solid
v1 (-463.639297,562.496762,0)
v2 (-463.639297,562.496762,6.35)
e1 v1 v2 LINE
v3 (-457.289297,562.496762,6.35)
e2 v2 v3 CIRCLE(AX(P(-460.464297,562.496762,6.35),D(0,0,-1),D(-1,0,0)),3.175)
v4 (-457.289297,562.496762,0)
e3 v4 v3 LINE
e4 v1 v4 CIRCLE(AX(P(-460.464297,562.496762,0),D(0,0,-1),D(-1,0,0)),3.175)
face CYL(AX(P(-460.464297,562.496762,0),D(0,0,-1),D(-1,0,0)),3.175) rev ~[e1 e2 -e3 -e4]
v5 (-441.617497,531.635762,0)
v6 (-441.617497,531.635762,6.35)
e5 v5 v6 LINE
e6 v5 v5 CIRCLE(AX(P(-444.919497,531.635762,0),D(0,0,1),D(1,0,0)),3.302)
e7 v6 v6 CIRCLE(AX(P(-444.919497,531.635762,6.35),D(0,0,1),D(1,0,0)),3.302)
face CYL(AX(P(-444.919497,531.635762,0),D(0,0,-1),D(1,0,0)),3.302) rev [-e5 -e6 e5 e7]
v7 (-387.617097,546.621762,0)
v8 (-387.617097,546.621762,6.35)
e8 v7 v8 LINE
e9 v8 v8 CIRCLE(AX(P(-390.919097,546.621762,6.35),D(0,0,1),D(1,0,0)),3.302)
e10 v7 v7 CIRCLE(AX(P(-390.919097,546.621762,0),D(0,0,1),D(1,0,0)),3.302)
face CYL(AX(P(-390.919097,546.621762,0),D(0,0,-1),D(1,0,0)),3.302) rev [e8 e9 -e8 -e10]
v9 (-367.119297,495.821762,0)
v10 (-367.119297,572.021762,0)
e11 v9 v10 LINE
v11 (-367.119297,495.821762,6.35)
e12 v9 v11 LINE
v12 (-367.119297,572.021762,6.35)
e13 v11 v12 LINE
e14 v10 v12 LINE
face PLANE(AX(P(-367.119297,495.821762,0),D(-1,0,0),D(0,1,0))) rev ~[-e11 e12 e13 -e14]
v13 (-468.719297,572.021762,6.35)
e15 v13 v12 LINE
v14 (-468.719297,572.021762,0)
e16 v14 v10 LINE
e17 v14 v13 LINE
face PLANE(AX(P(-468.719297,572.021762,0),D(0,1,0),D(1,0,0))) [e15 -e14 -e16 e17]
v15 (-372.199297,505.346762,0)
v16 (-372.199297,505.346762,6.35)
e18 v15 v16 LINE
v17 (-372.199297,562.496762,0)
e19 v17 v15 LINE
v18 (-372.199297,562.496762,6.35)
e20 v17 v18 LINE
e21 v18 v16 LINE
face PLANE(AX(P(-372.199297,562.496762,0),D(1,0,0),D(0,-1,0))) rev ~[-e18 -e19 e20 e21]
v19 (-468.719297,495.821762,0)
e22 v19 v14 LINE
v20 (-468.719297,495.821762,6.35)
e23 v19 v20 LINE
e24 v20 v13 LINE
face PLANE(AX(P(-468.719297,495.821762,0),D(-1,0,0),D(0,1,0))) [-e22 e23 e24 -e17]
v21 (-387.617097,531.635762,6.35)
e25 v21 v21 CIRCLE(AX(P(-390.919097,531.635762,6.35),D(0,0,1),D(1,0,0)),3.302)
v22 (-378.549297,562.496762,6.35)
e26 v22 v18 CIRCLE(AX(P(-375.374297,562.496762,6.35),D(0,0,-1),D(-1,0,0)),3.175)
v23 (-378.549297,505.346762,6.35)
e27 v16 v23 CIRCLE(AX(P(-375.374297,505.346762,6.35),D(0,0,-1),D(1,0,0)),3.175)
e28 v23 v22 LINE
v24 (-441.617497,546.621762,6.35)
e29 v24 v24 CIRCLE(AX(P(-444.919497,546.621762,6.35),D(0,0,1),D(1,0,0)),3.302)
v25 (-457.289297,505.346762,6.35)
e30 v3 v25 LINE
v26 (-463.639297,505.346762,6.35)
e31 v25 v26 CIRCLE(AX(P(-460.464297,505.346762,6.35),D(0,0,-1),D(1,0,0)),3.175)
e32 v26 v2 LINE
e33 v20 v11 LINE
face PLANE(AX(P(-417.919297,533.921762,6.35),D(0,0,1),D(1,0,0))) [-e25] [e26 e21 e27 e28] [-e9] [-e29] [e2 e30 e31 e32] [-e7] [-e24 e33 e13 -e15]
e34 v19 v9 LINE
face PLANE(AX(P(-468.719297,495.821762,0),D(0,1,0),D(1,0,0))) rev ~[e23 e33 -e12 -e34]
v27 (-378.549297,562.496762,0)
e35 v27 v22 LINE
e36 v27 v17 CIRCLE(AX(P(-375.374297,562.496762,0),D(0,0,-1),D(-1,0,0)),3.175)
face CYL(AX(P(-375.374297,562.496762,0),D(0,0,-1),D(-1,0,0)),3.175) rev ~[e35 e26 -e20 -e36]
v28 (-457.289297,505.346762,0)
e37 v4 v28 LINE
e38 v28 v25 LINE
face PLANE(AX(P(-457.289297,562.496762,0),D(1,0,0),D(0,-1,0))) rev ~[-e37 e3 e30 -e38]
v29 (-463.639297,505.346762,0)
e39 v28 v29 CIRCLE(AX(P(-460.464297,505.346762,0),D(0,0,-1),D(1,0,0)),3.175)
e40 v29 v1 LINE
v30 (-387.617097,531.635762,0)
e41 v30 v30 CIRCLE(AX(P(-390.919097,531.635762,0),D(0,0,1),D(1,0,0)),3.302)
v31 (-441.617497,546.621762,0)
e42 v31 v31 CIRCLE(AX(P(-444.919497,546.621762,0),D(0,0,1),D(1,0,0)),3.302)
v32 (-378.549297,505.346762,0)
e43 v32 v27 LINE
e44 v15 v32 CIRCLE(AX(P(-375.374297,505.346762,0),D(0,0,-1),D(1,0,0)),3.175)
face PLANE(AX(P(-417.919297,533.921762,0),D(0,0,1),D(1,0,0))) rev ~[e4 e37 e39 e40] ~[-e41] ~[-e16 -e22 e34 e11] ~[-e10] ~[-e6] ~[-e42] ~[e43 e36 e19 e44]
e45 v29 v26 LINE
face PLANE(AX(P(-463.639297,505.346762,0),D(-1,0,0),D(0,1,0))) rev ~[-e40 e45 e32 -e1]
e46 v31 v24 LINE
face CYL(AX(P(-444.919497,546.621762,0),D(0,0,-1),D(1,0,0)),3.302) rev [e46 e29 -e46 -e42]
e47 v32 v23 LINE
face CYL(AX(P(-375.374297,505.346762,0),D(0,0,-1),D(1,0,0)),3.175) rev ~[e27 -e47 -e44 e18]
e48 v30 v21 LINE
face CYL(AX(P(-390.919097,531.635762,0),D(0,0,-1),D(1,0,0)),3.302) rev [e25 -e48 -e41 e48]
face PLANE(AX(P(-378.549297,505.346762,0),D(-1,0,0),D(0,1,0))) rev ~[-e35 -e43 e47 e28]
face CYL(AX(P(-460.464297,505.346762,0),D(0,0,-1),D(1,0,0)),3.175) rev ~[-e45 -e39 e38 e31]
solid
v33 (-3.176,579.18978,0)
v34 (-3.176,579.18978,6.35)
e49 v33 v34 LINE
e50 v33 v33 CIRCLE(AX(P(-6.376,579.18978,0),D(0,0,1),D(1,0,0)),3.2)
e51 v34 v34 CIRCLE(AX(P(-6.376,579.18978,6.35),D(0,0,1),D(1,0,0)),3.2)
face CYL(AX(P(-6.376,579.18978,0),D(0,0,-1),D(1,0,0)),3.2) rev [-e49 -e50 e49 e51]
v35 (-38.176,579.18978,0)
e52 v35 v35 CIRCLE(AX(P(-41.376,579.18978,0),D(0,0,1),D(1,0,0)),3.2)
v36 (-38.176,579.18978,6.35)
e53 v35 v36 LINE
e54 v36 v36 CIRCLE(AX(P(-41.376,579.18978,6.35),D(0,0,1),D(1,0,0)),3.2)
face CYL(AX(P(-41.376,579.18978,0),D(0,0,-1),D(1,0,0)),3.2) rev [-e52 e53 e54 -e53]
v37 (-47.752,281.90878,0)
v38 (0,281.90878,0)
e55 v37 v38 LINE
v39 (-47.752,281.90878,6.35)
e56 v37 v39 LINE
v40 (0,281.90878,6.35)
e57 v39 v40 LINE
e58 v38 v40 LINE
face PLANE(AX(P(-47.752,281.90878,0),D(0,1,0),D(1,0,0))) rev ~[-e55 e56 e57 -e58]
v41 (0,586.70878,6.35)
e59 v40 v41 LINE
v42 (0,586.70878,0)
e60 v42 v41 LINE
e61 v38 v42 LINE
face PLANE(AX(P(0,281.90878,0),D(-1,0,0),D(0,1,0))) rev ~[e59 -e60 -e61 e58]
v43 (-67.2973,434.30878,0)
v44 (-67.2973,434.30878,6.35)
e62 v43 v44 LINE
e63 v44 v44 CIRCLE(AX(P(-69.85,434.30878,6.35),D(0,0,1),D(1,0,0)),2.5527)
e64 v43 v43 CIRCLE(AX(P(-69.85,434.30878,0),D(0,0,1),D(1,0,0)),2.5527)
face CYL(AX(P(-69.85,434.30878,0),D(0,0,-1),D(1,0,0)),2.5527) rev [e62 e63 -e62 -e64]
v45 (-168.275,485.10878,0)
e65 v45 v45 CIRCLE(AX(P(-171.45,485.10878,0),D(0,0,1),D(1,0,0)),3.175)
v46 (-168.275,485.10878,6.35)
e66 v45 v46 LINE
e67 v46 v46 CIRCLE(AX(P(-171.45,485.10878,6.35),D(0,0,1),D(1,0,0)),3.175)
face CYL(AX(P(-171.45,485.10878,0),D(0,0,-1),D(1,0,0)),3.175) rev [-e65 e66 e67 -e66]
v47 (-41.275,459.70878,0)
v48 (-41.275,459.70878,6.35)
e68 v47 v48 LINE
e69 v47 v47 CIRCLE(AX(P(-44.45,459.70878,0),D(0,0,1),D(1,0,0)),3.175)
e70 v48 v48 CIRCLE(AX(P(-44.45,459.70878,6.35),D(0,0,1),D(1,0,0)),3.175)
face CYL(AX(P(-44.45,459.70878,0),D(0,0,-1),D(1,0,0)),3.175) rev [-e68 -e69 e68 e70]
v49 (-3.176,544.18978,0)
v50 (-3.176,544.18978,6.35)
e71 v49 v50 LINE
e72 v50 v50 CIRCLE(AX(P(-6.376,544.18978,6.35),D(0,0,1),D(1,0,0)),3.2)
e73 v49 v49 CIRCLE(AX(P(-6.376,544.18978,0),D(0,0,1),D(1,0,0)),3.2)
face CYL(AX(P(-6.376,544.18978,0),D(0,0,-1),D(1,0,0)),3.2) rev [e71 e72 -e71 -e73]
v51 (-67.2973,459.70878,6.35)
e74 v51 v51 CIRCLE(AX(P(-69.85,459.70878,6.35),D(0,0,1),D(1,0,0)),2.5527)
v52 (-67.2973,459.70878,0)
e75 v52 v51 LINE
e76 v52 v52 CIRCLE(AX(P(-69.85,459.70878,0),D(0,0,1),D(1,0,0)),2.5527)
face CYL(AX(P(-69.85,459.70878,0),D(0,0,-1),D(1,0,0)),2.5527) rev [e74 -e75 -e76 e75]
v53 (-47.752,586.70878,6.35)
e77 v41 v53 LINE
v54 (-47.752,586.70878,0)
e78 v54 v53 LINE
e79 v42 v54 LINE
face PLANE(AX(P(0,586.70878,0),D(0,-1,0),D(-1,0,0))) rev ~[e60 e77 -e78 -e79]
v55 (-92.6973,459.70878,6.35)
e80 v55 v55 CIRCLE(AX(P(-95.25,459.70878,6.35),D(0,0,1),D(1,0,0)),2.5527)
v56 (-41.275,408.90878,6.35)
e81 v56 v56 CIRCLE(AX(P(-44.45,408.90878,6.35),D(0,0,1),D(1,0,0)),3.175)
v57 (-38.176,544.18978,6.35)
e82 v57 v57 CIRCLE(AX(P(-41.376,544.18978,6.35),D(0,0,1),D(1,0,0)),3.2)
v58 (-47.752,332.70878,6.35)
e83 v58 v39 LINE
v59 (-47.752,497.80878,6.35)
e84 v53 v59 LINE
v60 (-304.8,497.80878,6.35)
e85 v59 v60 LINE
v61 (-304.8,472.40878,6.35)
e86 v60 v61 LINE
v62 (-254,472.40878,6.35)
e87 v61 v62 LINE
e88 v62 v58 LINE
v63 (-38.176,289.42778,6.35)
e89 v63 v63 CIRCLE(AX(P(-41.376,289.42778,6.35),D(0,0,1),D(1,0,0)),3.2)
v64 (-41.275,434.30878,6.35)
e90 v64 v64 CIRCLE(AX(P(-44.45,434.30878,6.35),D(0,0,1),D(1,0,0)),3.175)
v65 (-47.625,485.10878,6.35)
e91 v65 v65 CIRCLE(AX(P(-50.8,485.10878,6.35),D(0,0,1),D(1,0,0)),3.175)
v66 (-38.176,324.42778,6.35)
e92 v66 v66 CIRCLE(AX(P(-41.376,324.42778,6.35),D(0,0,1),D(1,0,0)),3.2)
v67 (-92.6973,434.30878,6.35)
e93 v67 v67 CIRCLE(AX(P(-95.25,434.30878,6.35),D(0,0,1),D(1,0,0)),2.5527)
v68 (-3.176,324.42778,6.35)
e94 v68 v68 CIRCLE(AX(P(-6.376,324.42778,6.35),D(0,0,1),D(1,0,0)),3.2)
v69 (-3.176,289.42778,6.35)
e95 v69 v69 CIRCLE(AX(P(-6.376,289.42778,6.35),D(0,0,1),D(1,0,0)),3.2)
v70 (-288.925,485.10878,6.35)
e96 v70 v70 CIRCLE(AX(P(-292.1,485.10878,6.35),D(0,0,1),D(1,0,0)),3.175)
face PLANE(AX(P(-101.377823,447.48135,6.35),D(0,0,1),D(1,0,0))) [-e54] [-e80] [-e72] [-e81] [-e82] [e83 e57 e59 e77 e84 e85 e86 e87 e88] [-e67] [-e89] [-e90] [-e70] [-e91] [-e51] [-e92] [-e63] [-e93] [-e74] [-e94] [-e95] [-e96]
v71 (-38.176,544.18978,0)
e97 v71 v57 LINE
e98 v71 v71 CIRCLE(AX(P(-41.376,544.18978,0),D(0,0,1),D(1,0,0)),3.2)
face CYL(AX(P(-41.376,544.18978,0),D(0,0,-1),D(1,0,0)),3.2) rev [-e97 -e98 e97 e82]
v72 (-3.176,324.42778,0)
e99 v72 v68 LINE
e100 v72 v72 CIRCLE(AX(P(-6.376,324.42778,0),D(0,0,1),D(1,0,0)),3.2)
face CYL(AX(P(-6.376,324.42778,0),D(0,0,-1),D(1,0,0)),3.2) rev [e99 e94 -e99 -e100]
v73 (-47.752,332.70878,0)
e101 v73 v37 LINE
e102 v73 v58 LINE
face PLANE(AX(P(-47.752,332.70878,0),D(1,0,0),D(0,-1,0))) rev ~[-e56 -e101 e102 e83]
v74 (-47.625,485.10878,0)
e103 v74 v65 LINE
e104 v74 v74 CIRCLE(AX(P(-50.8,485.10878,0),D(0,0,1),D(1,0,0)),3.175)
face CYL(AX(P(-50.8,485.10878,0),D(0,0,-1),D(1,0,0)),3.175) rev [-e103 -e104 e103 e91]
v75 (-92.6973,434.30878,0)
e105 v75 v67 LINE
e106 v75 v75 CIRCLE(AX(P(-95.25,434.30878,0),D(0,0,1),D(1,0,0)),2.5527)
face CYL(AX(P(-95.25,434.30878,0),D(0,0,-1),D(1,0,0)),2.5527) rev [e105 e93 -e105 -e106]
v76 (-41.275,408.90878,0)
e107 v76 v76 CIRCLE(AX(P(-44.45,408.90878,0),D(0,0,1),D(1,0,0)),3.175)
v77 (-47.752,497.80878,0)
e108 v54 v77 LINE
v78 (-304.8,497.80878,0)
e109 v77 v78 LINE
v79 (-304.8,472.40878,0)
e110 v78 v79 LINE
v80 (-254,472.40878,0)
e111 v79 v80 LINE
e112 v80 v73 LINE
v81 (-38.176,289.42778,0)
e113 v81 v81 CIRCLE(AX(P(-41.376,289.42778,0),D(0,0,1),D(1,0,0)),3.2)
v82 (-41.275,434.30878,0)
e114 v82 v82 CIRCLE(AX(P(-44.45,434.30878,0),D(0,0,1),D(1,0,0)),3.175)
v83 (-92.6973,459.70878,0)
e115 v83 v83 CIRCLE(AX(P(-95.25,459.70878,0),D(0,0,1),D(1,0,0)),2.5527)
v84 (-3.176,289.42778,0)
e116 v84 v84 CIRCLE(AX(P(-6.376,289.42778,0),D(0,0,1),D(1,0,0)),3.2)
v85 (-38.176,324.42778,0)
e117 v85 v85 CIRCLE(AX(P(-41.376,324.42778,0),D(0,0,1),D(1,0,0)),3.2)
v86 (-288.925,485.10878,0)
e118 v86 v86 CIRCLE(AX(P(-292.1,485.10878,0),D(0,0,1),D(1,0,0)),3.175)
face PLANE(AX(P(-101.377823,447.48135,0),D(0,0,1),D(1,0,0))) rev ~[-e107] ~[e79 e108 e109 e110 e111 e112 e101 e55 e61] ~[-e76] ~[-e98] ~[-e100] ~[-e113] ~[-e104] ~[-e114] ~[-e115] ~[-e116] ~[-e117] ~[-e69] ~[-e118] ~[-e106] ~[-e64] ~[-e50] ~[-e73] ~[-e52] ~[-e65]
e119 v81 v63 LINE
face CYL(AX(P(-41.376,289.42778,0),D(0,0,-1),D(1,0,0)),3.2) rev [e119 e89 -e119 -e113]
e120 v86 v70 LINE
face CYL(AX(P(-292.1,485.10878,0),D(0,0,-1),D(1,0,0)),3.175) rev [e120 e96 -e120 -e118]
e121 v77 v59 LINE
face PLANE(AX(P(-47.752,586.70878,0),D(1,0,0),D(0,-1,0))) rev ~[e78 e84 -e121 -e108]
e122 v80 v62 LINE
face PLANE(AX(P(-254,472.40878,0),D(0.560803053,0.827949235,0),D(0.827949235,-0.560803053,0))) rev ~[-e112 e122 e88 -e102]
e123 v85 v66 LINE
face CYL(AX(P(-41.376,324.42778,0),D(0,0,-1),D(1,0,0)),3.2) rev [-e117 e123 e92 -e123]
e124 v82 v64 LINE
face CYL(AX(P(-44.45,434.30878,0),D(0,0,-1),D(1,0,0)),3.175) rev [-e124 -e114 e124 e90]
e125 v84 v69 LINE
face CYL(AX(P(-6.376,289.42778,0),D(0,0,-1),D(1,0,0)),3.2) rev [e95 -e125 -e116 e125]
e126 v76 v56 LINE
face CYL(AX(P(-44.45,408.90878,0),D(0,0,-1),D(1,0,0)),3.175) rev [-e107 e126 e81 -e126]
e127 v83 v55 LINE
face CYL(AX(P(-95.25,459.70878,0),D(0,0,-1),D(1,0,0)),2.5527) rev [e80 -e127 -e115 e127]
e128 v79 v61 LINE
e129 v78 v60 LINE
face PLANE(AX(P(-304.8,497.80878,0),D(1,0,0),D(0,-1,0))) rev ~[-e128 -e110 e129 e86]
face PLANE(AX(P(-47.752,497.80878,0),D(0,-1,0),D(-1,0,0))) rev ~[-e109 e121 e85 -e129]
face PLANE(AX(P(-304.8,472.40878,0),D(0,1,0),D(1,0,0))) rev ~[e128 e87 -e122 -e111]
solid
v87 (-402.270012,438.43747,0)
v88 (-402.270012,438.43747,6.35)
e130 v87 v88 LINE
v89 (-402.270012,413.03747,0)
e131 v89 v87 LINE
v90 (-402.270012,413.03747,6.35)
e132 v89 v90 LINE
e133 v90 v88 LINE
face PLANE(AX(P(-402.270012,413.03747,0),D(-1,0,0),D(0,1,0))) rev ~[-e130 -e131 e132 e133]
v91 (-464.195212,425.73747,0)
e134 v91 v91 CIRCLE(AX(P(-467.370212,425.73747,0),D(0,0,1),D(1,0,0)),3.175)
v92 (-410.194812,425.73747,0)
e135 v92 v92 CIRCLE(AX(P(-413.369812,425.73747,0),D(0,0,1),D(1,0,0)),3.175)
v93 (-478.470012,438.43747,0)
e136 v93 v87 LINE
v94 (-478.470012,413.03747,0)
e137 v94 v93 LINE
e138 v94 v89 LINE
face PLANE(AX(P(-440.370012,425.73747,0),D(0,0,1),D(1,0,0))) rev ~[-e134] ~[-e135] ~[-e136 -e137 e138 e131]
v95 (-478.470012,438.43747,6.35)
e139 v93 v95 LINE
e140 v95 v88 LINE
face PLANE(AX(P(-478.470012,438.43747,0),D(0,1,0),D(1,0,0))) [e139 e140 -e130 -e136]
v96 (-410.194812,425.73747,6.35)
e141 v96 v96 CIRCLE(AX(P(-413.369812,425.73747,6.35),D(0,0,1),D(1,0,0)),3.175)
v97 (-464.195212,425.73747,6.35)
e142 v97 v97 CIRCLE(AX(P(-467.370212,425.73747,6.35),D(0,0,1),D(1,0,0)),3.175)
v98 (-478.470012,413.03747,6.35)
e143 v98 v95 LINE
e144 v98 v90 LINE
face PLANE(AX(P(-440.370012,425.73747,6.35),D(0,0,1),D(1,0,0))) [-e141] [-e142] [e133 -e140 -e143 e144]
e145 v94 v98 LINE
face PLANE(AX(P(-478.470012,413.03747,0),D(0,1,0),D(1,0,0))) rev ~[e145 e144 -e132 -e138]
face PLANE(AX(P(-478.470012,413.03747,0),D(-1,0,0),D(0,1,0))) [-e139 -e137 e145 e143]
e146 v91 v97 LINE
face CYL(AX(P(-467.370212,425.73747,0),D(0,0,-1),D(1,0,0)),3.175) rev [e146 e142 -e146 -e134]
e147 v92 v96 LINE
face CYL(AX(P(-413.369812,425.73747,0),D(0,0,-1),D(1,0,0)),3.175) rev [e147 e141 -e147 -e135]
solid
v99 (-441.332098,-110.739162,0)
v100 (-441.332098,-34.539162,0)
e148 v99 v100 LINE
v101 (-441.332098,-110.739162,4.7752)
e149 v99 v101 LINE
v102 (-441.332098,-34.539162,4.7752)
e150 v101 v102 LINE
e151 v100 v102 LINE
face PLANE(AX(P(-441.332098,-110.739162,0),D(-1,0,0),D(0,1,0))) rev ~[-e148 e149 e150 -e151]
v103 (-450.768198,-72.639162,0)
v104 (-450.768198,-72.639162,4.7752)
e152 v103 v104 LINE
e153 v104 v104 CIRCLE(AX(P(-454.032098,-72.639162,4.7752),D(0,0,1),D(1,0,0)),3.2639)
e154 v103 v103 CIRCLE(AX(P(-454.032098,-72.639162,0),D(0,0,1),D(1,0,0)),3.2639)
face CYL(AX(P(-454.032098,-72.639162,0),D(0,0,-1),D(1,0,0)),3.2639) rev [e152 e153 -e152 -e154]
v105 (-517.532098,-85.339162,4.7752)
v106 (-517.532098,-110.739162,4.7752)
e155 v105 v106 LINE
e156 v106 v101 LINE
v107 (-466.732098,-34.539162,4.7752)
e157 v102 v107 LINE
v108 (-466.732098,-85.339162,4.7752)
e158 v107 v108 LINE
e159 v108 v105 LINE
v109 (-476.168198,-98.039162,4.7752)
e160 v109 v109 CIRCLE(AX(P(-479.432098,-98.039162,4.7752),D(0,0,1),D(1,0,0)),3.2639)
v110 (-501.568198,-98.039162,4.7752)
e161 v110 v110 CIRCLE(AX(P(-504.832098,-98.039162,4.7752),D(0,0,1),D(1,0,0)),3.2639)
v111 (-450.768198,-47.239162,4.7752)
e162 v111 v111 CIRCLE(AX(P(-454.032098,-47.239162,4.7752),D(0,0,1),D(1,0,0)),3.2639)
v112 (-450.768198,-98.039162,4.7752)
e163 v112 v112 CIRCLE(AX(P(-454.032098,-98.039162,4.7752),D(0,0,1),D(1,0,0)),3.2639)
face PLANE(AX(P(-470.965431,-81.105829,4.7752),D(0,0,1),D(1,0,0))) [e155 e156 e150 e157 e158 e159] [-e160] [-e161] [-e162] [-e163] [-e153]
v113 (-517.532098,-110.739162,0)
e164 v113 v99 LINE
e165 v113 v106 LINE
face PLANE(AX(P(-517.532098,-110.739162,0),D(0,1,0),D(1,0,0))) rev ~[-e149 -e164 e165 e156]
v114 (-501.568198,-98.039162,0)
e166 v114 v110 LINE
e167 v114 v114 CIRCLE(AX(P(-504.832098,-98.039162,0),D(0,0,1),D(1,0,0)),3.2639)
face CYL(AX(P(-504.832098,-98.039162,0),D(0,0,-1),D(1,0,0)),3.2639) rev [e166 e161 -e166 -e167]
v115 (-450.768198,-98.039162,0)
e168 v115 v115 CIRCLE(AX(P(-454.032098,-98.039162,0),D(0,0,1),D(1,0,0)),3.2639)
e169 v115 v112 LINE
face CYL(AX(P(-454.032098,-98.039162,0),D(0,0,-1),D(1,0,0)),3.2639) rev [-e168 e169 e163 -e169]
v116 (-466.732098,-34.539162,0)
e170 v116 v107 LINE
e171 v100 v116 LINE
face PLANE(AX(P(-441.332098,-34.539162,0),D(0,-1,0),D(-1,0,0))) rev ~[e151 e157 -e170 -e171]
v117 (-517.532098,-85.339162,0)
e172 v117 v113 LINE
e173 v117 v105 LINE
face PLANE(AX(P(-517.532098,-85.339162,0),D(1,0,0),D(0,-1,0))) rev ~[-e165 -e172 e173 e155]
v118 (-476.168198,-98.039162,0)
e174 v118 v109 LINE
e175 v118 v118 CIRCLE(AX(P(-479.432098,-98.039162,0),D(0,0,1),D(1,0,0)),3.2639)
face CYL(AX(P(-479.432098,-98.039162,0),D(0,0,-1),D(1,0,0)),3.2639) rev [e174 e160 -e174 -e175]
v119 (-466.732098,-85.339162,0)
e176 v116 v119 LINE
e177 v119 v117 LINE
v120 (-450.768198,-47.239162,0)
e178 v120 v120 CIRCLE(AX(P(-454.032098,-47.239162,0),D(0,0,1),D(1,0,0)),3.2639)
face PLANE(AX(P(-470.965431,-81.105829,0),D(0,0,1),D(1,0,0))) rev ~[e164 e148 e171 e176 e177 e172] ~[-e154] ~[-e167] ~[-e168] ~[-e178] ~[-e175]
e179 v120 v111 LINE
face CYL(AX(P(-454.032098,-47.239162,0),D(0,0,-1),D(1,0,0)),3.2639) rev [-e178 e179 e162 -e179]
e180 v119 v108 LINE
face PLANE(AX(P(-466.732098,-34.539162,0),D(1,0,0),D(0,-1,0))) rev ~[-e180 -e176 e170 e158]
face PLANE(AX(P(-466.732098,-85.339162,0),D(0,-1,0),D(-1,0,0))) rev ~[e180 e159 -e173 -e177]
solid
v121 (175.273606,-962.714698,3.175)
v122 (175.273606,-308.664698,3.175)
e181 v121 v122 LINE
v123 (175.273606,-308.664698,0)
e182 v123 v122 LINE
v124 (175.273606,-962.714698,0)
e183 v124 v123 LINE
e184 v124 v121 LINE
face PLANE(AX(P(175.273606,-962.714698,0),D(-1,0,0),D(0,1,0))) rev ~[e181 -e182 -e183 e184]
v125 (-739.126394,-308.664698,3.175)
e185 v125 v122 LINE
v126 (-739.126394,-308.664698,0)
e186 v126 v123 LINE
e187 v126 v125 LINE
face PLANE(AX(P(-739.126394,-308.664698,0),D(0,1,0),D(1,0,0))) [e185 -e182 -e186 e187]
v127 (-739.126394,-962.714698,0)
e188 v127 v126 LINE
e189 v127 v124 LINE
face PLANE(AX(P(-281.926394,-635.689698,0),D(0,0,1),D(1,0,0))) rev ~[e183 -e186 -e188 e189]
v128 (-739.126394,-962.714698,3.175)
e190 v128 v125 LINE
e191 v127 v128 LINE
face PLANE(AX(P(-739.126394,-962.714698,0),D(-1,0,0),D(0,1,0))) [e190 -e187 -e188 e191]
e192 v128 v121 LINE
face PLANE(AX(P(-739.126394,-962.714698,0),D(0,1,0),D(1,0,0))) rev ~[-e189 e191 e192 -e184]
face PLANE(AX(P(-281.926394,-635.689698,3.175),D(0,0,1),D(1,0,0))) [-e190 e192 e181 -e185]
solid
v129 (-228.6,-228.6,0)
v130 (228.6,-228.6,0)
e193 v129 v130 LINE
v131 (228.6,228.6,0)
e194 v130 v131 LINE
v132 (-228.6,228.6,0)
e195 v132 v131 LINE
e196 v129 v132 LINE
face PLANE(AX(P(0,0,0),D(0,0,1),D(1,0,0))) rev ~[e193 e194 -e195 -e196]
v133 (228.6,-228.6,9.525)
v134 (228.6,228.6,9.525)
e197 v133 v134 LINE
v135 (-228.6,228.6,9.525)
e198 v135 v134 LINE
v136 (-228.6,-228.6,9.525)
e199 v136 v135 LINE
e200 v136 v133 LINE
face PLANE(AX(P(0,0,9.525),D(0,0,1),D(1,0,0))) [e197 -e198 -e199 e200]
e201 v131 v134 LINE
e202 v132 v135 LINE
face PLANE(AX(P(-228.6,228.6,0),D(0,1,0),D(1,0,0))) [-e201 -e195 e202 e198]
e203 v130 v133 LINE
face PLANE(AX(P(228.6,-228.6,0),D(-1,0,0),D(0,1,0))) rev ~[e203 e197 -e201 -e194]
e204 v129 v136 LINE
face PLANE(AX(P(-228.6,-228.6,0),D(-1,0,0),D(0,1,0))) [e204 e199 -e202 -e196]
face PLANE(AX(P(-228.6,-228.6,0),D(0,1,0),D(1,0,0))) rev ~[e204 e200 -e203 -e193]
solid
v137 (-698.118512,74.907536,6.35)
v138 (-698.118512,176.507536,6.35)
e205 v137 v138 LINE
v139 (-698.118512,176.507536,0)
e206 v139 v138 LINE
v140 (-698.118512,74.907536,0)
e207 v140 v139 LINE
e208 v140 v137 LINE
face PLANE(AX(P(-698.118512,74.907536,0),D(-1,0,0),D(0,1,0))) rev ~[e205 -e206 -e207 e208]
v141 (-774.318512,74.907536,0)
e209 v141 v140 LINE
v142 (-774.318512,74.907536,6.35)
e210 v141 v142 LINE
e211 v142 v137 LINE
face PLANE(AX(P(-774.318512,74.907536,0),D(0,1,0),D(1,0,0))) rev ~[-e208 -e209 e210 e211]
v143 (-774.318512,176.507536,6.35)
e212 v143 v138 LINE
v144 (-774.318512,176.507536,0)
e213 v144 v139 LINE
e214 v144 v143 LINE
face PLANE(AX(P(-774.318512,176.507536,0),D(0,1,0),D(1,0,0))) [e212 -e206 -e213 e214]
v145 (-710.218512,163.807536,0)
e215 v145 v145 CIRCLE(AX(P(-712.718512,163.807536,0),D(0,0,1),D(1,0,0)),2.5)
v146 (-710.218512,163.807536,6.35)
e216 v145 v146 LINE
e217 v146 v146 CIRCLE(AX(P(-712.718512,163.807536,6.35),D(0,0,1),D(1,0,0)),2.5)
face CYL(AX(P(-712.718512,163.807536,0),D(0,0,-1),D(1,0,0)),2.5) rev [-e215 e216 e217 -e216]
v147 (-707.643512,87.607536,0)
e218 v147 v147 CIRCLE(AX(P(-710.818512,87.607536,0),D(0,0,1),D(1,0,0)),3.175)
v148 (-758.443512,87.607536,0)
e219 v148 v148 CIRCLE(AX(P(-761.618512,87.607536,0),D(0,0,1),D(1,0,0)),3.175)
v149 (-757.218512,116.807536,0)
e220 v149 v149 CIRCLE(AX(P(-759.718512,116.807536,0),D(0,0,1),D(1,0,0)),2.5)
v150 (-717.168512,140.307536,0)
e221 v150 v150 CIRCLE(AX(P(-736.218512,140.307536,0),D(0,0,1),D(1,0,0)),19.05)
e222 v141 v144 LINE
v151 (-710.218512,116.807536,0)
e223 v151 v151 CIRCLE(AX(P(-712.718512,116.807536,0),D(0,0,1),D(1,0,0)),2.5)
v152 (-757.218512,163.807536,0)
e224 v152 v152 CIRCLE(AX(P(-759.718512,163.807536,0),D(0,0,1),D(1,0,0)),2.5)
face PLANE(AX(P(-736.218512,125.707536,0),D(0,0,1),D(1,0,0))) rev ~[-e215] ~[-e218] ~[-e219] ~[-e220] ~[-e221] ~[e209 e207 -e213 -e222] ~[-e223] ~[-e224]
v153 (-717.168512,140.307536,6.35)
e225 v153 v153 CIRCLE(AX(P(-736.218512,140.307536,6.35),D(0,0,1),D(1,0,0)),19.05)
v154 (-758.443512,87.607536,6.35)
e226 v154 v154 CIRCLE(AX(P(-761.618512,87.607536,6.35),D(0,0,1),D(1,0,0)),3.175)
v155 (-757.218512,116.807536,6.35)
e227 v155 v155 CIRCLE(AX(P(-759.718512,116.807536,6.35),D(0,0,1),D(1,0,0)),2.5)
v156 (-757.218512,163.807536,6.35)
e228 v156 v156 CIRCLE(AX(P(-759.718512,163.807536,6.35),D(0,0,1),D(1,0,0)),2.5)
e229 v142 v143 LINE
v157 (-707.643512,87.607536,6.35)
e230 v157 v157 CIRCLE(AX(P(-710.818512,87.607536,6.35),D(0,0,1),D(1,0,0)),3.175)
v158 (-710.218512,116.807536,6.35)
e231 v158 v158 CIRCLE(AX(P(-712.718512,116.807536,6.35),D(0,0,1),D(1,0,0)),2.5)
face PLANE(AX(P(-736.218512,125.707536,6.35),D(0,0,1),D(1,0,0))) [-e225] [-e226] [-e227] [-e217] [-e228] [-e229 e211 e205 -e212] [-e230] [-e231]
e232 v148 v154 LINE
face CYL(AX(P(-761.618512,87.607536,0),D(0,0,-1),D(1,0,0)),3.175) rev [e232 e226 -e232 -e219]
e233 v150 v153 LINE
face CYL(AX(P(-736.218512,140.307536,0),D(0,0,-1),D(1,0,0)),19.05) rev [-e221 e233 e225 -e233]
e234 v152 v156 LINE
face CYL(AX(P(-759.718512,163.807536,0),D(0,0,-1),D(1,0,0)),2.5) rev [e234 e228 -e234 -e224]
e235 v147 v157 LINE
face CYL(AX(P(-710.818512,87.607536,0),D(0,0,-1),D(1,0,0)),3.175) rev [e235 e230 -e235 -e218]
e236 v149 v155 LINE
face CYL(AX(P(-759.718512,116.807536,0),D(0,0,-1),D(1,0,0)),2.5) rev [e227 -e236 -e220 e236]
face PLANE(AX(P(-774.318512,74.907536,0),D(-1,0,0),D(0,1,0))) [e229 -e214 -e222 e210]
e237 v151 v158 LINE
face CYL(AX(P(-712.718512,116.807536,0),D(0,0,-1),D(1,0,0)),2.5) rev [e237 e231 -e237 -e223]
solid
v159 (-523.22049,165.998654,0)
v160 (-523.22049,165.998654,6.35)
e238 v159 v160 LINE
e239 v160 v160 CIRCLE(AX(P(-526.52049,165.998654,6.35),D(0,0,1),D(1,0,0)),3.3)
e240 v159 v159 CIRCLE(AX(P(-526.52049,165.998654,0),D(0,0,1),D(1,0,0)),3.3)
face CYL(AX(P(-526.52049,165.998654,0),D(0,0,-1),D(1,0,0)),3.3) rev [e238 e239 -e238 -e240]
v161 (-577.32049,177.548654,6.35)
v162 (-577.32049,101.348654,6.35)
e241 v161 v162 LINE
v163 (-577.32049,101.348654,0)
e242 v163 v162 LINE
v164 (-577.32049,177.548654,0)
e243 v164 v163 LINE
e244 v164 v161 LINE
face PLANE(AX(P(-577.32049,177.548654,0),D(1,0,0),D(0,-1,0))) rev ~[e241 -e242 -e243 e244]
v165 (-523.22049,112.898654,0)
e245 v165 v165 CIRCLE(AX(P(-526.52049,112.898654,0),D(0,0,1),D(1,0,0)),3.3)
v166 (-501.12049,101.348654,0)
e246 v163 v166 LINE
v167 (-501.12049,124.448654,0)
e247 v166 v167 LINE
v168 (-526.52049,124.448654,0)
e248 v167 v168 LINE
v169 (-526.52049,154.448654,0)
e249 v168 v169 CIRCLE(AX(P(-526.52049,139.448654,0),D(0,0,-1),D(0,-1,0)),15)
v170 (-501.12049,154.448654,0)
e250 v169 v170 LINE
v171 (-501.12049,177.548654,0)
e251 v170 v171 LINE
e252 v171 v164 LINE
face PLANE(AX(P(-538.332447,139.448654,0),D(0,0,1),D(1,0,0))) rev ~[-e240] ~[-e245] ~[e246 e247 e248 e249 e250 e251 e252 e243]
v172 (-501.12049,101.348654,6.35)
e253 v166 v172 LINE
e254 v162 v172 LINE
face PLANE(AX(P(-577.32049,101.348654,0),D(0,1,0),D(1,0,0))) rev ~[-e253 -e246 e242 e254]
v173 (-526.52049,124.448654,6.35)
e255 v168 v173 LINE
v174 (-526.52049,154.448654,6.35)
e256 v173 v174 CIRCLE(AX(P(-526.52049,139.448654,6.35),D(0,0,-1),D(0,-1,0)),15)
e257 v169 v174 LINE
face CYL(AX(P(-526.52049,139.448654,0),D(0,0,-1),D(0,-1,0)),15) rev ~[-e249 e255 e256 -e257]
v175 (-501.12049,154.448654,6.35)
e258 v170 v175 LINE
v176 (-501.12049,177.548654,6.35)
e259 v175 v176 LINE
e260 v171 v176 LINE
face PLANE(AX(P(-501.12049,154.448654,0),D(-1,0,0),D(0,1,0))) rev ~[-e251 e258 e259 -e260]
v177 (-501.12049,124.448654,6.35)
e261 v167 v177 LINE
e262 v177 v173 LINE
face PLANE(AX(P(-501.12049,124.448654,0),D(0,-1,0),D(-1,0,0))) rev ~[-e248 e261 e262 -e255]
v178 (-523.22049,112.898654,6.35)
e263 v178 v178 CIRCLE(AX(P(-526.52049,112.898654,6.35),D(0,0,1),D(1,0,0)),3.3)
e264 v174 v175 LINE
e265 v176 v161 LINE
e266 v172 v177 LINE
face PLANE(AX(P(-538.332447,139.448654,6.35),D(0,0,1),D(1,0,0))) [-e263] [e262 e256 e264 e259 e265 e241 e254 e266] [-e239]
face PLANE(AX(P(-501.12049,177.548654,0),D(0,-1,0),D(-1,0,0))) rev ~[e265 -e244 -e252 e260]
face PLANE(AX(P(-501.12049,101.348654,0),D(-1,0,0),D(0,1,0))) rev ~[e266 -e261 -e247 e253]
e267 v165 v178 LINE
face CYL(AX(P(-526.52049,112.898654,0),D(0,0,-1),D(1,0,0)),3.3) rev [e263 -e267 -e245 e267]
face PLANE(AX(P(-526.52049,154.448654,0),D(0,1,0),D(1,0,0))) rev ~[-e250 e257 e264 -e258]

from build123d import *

# Parameters (mm, degrees)
F0_W      = 457.2
F0_H      = 457.2
F1_DEPTH  = 9.525
F2_R      = 3.2
F2_R_2    = 3.175
F2_R_3    = 2.5527
F3_DEPTH  = 6.35
F4_R      = 3.2639
F5_DEPTH  = 4.7752
F6_R      = 3.3
F7_DEPTH  = 6.35
F8_W      = 914.4
F8_H      = 654.05
F9_DEPTH  = 3.175
F11_W     = 101.6
F11_H     = 76.2
F11_R     = 3.302
F11_W_2   = 76.2
F11_H_2   = 25.4
F11_R_2   = 3.175
F12_DEPTH = 6.35
F13_W     = 76.2
F13_H     = 101.6
F13_R     = 3.175
F13_R_2   = 2.5
F13_R_3   = 19.05
F14_DEPTH = 6.35


with BuildPart() as f1:
    # F0 (on Top) → F1 (new body)
    with BuildSketch(Plane.XY):
        Rectangle(F0_W, F0_H)
    extrude(amount=F1_DEPTH)


with BuildPart() as f3:
    # F2 (on Top) → F3 (new body)
    with BuildSketch(Plane.XY):
        Polygon((-47.752, 281.90878), (0, 281.90878), (0, 586.70878), (-47.752, 586.70878), (-47.752, 497.80878), (-254, 497.80878), (-304.8, 497.80878), (-304.8, 472.40878), (-254, 472.40878), (-47.752, 332.70878), align=None)
        with Locations((-41.376, 289.42778)):
            Circle(F2_R, mode=Mode.SUBTRACT)
        with Locations((-6.376, 289.42778)):
            Circle(F2_R, mode=Mode.SUBTRACT)
        with Locations((-41.376, 324.42778)):
            Circle(F2_R, mode=Mode.SUBTRACT)
        with Locations((-6.376, 324.42778)):
            Circle(F2_R, mode=Mode.SUBTRACT)
        with Locations((-44.45, 408.90878)):
            Circle(F2_R_2, mode=Mode.SUBTRACT)
        with Locations((-292.1, 485.10878)):
            Circle(F2_R_2, mode=Mode.SUBTRACT)
        with Locations((-171.45, 485.10878)):
            Circle(F2_R_2, mode=Mode.SUBTRACT)
        with Locations((-95.25, 434.30878)):
            Circle(F2_R_3, mode=Mode.SUBTRACT)
        with Locations((-95.25, 459.70878)):
            Circle(F2_R_3, mode=Mode.SUBTRACT)
        with Locations((-69.85, 434.30878)):
            Circle(F2_R_3, mode=Mode.SUBTRACT)
        with Locations((-44.45, 434.30878)):
            Circle(F2_R_2, mode=Mode.SUBTRACT)
        with Locations((-69.85, 459.70878)):
            Circle(F2_R_3, mode=Mode.SUBTRACT)
        with Locations((-44.45, 459.70878)):
            Circle(F2_R_2, mode=Mode.SUBTRACT)
        with Locations((-50.8, 485.10878)):
            Circle(F2_R_2, mode=Mode.SUBTRACT)
        with Locations((-41.376, 544.18978)):
            Circle(F2_R, mode=Mode.SUBTRACT)
        with Locations((-6.376, 544.18978)):
            Circle(F2_R, mode=Mode.SUBTRACT)
        with Locations((-41.376, 579.18978)):
            Circle(F2_R, mode=Mode.SUBTRACT)
        with Locations((-6.376, 579.18978)):
            Circle(F2_R, mode=Mode.SUBTRACT)
    extrude(amount=F3_DEPTH)


with BuildPart() as f5:
    # F4 (on Top) → F5 (new body)
    with BuildSketch(Plane.XY):
        Polygon((-517.532098, -85.339162), (-517.532098, -110.739162), (-441.332098, -110.739162), (-441.332098, -34.539162), (-466.732098, -34.539162), (-466.732098, -85.339162), align=None)
        with Locations((-504.832098, -98.039162)):
            Circle(F4_R, mode=Mode.SUBTRACT)
        with Locations((-479.432098, -98.039162)):
            Circle(F4_R, mode=Mode.SUBTRACT)
        with Locations((-454.032098, -98.039162)):
            Circle(F4_R, mode=Mode.SUBTRACT)
        with Locations((-454.032098, -72.639162)):
            Circle(F4_R, mode=Mode.SUBTRACT)
        with Locations((-454.032098, -47.239162)):
            Circle(F4_R, mode=Mode.SUBTRACT)
    extrude(amount=F5_DEPTH)


with BuildPart() as f7:
    # F6 (on Top) → F7 (new body)
    with BuildSketch(Plane.XY):
        with BuildLine():
            Line((-526.52049, 177.548654), (-577.32049, 177.548654))
            Line((-577.32049, 177.548654), (-577.32049, 101.348654))
            Line((-577.32049, 101.348654), (-526.52049, 101.348654))
            Line((-526.52049, 101.348654), (-501.12049, 101.348654))
            Line((-501.12049, 101.348654), (-501.12049, 124.448654))
            Line((-501.12049, 124.448654), (-526.52049, 124.448654))
            ThreePointArc((-526.52049, 124.448654), (-541.52049, 139.448654), (-526.52049, 154.448654))
            Line((-526.52049, 154.448654), (-501.12049, 154.448654))
            Line((-501.12049, 154.448654), (-501.12049, 177.548654))
            Line((-501.12049, 177.548654), (-526.52049, 177.548654))
        make_face()
        with Locations((-526.52049, 112.898654)):
            Circle(F6_R, mode=Mode.SUBTRACT)
        with Locations((-526.52049, 165.998654)):
            Circle(F6_R, mode=Mode.SUBTRACT)
    extrude(amount=F7_DEPTH)


with BuildPart() as f9:
    # F8 (on Top) → F9 (new body)
    with BuildSketch(Plane.XY):
        with Locations((-281.926394, -635.689698)):
            Rectangle(F8_W, F8_H)
    extrude(amount=F9_DEPTH)


with BuildPart() as f12:
    # F11 (on Top) → F12 (new body)
    with BuildSketch(Plane.XY):
        with Locations((-417.919297, 533.921762)):
            Rectangle(F11_W, F11_H)
        with Locations((-444.919497, 531.635762)):
            Circle(F11_R, mode=Mode.SUBTRACT)
        with BuildLine():
            Line((-463.639297, 505.346762), (-463.639297, 562.496762))
            ThreePointArc((-463.639297, 562.496762), (-460.464297, 565.671762), (-457.289297, 562.496762))
            Line((-457.289297, 562.496762), (-457.289297, 505.346762))
            ThreePointArc((-457.289297, 505.346762), (-460.464297, 502.171762), (-463.639297, 505.346762))
        make_face(mode=Mode.SUBTRACT)
        with Locations((-444.919497, 546.621762)):
            Circle(F11_R, mode=Mode.SUBTRACT)
        with Locations((-390.919097, 531.635762)):
            Circle(F11_R, mode=Mode.SUBTRACT)
        with Locations((-390.919097, 546.621762)):
            Circle(F11_R, mode=Mode.SUBTRACT)
        with BuildLine():
            ThreePointArc((-378.549297, 562.496762), (-375.374297, 565.671762), (-372.199297, 562.496762))
            Line((-372.199297, 562.496762), (-372.199297, 505.346762))
            ThreePointArc((-372.199297, 505.346762), (-375.374297, 502.171762), (-378.549297, 505.346762))
            Line((-378.549297, 505.346762), (-378.549297, 562.496762))
        make_face(mode=Mode.SUBTRACT)
        with Locations((-440.370012, 425.73747)):
            Rectangle(F11_W_2, F11_H_2)
        with Locations((-467.370212, 425.73747)):
            Circle(F11_R_2, mode=Mode.SUBTRACT)
        with Locations((-413.369812, 425.73747)):
            Circle(F11_R_2, mode=Mode.SUBTRACT)
    extrude(amount=F12_DEPTH)


with BuildPart() as f14:
    # F13 (on Top) → F14 (new body)
    with BuildSketch(Plane.XY):
        with Locations((-736.218512, 125.707536)):
            Rectangle(F13_W, F13_H)
        with Locations((-761.618512, 87.607536)):
            Circle(F13_R, mode=Mode.SUBTRACT)
        with Locations((-759.718512, 116.807536)):
            Circle(F13_R_2, mode=Mode.SUBTRACT)
        with Locations((-710.818512, 87.607536)):
            Circle(F13_R, mode=Mode.SUBTRACT)
        with Locations((-712.718512, 116.807536)):
            Circle(F13_R_2, mode=Mode.SUBTRACT)
        with Locations((-736.218512, 140.307536)):
            Circle(F13_R_3, mode=Mode.SUBTRACT)
        with Locations((-759.718512, 163.807536)):
            Circle(F13_R_2, mode=Mode.SUBTRACT)
        with Locations((-712.718512, 163.807536)):
            Circle(F13_R_2, mode=Mode.SUBTRACT)
    extrude(amount=F14_DEPTH)


solid = Compound([f1.part, f3.part, f5.part, f7.part, f9.part, f12.part, f14.part])
